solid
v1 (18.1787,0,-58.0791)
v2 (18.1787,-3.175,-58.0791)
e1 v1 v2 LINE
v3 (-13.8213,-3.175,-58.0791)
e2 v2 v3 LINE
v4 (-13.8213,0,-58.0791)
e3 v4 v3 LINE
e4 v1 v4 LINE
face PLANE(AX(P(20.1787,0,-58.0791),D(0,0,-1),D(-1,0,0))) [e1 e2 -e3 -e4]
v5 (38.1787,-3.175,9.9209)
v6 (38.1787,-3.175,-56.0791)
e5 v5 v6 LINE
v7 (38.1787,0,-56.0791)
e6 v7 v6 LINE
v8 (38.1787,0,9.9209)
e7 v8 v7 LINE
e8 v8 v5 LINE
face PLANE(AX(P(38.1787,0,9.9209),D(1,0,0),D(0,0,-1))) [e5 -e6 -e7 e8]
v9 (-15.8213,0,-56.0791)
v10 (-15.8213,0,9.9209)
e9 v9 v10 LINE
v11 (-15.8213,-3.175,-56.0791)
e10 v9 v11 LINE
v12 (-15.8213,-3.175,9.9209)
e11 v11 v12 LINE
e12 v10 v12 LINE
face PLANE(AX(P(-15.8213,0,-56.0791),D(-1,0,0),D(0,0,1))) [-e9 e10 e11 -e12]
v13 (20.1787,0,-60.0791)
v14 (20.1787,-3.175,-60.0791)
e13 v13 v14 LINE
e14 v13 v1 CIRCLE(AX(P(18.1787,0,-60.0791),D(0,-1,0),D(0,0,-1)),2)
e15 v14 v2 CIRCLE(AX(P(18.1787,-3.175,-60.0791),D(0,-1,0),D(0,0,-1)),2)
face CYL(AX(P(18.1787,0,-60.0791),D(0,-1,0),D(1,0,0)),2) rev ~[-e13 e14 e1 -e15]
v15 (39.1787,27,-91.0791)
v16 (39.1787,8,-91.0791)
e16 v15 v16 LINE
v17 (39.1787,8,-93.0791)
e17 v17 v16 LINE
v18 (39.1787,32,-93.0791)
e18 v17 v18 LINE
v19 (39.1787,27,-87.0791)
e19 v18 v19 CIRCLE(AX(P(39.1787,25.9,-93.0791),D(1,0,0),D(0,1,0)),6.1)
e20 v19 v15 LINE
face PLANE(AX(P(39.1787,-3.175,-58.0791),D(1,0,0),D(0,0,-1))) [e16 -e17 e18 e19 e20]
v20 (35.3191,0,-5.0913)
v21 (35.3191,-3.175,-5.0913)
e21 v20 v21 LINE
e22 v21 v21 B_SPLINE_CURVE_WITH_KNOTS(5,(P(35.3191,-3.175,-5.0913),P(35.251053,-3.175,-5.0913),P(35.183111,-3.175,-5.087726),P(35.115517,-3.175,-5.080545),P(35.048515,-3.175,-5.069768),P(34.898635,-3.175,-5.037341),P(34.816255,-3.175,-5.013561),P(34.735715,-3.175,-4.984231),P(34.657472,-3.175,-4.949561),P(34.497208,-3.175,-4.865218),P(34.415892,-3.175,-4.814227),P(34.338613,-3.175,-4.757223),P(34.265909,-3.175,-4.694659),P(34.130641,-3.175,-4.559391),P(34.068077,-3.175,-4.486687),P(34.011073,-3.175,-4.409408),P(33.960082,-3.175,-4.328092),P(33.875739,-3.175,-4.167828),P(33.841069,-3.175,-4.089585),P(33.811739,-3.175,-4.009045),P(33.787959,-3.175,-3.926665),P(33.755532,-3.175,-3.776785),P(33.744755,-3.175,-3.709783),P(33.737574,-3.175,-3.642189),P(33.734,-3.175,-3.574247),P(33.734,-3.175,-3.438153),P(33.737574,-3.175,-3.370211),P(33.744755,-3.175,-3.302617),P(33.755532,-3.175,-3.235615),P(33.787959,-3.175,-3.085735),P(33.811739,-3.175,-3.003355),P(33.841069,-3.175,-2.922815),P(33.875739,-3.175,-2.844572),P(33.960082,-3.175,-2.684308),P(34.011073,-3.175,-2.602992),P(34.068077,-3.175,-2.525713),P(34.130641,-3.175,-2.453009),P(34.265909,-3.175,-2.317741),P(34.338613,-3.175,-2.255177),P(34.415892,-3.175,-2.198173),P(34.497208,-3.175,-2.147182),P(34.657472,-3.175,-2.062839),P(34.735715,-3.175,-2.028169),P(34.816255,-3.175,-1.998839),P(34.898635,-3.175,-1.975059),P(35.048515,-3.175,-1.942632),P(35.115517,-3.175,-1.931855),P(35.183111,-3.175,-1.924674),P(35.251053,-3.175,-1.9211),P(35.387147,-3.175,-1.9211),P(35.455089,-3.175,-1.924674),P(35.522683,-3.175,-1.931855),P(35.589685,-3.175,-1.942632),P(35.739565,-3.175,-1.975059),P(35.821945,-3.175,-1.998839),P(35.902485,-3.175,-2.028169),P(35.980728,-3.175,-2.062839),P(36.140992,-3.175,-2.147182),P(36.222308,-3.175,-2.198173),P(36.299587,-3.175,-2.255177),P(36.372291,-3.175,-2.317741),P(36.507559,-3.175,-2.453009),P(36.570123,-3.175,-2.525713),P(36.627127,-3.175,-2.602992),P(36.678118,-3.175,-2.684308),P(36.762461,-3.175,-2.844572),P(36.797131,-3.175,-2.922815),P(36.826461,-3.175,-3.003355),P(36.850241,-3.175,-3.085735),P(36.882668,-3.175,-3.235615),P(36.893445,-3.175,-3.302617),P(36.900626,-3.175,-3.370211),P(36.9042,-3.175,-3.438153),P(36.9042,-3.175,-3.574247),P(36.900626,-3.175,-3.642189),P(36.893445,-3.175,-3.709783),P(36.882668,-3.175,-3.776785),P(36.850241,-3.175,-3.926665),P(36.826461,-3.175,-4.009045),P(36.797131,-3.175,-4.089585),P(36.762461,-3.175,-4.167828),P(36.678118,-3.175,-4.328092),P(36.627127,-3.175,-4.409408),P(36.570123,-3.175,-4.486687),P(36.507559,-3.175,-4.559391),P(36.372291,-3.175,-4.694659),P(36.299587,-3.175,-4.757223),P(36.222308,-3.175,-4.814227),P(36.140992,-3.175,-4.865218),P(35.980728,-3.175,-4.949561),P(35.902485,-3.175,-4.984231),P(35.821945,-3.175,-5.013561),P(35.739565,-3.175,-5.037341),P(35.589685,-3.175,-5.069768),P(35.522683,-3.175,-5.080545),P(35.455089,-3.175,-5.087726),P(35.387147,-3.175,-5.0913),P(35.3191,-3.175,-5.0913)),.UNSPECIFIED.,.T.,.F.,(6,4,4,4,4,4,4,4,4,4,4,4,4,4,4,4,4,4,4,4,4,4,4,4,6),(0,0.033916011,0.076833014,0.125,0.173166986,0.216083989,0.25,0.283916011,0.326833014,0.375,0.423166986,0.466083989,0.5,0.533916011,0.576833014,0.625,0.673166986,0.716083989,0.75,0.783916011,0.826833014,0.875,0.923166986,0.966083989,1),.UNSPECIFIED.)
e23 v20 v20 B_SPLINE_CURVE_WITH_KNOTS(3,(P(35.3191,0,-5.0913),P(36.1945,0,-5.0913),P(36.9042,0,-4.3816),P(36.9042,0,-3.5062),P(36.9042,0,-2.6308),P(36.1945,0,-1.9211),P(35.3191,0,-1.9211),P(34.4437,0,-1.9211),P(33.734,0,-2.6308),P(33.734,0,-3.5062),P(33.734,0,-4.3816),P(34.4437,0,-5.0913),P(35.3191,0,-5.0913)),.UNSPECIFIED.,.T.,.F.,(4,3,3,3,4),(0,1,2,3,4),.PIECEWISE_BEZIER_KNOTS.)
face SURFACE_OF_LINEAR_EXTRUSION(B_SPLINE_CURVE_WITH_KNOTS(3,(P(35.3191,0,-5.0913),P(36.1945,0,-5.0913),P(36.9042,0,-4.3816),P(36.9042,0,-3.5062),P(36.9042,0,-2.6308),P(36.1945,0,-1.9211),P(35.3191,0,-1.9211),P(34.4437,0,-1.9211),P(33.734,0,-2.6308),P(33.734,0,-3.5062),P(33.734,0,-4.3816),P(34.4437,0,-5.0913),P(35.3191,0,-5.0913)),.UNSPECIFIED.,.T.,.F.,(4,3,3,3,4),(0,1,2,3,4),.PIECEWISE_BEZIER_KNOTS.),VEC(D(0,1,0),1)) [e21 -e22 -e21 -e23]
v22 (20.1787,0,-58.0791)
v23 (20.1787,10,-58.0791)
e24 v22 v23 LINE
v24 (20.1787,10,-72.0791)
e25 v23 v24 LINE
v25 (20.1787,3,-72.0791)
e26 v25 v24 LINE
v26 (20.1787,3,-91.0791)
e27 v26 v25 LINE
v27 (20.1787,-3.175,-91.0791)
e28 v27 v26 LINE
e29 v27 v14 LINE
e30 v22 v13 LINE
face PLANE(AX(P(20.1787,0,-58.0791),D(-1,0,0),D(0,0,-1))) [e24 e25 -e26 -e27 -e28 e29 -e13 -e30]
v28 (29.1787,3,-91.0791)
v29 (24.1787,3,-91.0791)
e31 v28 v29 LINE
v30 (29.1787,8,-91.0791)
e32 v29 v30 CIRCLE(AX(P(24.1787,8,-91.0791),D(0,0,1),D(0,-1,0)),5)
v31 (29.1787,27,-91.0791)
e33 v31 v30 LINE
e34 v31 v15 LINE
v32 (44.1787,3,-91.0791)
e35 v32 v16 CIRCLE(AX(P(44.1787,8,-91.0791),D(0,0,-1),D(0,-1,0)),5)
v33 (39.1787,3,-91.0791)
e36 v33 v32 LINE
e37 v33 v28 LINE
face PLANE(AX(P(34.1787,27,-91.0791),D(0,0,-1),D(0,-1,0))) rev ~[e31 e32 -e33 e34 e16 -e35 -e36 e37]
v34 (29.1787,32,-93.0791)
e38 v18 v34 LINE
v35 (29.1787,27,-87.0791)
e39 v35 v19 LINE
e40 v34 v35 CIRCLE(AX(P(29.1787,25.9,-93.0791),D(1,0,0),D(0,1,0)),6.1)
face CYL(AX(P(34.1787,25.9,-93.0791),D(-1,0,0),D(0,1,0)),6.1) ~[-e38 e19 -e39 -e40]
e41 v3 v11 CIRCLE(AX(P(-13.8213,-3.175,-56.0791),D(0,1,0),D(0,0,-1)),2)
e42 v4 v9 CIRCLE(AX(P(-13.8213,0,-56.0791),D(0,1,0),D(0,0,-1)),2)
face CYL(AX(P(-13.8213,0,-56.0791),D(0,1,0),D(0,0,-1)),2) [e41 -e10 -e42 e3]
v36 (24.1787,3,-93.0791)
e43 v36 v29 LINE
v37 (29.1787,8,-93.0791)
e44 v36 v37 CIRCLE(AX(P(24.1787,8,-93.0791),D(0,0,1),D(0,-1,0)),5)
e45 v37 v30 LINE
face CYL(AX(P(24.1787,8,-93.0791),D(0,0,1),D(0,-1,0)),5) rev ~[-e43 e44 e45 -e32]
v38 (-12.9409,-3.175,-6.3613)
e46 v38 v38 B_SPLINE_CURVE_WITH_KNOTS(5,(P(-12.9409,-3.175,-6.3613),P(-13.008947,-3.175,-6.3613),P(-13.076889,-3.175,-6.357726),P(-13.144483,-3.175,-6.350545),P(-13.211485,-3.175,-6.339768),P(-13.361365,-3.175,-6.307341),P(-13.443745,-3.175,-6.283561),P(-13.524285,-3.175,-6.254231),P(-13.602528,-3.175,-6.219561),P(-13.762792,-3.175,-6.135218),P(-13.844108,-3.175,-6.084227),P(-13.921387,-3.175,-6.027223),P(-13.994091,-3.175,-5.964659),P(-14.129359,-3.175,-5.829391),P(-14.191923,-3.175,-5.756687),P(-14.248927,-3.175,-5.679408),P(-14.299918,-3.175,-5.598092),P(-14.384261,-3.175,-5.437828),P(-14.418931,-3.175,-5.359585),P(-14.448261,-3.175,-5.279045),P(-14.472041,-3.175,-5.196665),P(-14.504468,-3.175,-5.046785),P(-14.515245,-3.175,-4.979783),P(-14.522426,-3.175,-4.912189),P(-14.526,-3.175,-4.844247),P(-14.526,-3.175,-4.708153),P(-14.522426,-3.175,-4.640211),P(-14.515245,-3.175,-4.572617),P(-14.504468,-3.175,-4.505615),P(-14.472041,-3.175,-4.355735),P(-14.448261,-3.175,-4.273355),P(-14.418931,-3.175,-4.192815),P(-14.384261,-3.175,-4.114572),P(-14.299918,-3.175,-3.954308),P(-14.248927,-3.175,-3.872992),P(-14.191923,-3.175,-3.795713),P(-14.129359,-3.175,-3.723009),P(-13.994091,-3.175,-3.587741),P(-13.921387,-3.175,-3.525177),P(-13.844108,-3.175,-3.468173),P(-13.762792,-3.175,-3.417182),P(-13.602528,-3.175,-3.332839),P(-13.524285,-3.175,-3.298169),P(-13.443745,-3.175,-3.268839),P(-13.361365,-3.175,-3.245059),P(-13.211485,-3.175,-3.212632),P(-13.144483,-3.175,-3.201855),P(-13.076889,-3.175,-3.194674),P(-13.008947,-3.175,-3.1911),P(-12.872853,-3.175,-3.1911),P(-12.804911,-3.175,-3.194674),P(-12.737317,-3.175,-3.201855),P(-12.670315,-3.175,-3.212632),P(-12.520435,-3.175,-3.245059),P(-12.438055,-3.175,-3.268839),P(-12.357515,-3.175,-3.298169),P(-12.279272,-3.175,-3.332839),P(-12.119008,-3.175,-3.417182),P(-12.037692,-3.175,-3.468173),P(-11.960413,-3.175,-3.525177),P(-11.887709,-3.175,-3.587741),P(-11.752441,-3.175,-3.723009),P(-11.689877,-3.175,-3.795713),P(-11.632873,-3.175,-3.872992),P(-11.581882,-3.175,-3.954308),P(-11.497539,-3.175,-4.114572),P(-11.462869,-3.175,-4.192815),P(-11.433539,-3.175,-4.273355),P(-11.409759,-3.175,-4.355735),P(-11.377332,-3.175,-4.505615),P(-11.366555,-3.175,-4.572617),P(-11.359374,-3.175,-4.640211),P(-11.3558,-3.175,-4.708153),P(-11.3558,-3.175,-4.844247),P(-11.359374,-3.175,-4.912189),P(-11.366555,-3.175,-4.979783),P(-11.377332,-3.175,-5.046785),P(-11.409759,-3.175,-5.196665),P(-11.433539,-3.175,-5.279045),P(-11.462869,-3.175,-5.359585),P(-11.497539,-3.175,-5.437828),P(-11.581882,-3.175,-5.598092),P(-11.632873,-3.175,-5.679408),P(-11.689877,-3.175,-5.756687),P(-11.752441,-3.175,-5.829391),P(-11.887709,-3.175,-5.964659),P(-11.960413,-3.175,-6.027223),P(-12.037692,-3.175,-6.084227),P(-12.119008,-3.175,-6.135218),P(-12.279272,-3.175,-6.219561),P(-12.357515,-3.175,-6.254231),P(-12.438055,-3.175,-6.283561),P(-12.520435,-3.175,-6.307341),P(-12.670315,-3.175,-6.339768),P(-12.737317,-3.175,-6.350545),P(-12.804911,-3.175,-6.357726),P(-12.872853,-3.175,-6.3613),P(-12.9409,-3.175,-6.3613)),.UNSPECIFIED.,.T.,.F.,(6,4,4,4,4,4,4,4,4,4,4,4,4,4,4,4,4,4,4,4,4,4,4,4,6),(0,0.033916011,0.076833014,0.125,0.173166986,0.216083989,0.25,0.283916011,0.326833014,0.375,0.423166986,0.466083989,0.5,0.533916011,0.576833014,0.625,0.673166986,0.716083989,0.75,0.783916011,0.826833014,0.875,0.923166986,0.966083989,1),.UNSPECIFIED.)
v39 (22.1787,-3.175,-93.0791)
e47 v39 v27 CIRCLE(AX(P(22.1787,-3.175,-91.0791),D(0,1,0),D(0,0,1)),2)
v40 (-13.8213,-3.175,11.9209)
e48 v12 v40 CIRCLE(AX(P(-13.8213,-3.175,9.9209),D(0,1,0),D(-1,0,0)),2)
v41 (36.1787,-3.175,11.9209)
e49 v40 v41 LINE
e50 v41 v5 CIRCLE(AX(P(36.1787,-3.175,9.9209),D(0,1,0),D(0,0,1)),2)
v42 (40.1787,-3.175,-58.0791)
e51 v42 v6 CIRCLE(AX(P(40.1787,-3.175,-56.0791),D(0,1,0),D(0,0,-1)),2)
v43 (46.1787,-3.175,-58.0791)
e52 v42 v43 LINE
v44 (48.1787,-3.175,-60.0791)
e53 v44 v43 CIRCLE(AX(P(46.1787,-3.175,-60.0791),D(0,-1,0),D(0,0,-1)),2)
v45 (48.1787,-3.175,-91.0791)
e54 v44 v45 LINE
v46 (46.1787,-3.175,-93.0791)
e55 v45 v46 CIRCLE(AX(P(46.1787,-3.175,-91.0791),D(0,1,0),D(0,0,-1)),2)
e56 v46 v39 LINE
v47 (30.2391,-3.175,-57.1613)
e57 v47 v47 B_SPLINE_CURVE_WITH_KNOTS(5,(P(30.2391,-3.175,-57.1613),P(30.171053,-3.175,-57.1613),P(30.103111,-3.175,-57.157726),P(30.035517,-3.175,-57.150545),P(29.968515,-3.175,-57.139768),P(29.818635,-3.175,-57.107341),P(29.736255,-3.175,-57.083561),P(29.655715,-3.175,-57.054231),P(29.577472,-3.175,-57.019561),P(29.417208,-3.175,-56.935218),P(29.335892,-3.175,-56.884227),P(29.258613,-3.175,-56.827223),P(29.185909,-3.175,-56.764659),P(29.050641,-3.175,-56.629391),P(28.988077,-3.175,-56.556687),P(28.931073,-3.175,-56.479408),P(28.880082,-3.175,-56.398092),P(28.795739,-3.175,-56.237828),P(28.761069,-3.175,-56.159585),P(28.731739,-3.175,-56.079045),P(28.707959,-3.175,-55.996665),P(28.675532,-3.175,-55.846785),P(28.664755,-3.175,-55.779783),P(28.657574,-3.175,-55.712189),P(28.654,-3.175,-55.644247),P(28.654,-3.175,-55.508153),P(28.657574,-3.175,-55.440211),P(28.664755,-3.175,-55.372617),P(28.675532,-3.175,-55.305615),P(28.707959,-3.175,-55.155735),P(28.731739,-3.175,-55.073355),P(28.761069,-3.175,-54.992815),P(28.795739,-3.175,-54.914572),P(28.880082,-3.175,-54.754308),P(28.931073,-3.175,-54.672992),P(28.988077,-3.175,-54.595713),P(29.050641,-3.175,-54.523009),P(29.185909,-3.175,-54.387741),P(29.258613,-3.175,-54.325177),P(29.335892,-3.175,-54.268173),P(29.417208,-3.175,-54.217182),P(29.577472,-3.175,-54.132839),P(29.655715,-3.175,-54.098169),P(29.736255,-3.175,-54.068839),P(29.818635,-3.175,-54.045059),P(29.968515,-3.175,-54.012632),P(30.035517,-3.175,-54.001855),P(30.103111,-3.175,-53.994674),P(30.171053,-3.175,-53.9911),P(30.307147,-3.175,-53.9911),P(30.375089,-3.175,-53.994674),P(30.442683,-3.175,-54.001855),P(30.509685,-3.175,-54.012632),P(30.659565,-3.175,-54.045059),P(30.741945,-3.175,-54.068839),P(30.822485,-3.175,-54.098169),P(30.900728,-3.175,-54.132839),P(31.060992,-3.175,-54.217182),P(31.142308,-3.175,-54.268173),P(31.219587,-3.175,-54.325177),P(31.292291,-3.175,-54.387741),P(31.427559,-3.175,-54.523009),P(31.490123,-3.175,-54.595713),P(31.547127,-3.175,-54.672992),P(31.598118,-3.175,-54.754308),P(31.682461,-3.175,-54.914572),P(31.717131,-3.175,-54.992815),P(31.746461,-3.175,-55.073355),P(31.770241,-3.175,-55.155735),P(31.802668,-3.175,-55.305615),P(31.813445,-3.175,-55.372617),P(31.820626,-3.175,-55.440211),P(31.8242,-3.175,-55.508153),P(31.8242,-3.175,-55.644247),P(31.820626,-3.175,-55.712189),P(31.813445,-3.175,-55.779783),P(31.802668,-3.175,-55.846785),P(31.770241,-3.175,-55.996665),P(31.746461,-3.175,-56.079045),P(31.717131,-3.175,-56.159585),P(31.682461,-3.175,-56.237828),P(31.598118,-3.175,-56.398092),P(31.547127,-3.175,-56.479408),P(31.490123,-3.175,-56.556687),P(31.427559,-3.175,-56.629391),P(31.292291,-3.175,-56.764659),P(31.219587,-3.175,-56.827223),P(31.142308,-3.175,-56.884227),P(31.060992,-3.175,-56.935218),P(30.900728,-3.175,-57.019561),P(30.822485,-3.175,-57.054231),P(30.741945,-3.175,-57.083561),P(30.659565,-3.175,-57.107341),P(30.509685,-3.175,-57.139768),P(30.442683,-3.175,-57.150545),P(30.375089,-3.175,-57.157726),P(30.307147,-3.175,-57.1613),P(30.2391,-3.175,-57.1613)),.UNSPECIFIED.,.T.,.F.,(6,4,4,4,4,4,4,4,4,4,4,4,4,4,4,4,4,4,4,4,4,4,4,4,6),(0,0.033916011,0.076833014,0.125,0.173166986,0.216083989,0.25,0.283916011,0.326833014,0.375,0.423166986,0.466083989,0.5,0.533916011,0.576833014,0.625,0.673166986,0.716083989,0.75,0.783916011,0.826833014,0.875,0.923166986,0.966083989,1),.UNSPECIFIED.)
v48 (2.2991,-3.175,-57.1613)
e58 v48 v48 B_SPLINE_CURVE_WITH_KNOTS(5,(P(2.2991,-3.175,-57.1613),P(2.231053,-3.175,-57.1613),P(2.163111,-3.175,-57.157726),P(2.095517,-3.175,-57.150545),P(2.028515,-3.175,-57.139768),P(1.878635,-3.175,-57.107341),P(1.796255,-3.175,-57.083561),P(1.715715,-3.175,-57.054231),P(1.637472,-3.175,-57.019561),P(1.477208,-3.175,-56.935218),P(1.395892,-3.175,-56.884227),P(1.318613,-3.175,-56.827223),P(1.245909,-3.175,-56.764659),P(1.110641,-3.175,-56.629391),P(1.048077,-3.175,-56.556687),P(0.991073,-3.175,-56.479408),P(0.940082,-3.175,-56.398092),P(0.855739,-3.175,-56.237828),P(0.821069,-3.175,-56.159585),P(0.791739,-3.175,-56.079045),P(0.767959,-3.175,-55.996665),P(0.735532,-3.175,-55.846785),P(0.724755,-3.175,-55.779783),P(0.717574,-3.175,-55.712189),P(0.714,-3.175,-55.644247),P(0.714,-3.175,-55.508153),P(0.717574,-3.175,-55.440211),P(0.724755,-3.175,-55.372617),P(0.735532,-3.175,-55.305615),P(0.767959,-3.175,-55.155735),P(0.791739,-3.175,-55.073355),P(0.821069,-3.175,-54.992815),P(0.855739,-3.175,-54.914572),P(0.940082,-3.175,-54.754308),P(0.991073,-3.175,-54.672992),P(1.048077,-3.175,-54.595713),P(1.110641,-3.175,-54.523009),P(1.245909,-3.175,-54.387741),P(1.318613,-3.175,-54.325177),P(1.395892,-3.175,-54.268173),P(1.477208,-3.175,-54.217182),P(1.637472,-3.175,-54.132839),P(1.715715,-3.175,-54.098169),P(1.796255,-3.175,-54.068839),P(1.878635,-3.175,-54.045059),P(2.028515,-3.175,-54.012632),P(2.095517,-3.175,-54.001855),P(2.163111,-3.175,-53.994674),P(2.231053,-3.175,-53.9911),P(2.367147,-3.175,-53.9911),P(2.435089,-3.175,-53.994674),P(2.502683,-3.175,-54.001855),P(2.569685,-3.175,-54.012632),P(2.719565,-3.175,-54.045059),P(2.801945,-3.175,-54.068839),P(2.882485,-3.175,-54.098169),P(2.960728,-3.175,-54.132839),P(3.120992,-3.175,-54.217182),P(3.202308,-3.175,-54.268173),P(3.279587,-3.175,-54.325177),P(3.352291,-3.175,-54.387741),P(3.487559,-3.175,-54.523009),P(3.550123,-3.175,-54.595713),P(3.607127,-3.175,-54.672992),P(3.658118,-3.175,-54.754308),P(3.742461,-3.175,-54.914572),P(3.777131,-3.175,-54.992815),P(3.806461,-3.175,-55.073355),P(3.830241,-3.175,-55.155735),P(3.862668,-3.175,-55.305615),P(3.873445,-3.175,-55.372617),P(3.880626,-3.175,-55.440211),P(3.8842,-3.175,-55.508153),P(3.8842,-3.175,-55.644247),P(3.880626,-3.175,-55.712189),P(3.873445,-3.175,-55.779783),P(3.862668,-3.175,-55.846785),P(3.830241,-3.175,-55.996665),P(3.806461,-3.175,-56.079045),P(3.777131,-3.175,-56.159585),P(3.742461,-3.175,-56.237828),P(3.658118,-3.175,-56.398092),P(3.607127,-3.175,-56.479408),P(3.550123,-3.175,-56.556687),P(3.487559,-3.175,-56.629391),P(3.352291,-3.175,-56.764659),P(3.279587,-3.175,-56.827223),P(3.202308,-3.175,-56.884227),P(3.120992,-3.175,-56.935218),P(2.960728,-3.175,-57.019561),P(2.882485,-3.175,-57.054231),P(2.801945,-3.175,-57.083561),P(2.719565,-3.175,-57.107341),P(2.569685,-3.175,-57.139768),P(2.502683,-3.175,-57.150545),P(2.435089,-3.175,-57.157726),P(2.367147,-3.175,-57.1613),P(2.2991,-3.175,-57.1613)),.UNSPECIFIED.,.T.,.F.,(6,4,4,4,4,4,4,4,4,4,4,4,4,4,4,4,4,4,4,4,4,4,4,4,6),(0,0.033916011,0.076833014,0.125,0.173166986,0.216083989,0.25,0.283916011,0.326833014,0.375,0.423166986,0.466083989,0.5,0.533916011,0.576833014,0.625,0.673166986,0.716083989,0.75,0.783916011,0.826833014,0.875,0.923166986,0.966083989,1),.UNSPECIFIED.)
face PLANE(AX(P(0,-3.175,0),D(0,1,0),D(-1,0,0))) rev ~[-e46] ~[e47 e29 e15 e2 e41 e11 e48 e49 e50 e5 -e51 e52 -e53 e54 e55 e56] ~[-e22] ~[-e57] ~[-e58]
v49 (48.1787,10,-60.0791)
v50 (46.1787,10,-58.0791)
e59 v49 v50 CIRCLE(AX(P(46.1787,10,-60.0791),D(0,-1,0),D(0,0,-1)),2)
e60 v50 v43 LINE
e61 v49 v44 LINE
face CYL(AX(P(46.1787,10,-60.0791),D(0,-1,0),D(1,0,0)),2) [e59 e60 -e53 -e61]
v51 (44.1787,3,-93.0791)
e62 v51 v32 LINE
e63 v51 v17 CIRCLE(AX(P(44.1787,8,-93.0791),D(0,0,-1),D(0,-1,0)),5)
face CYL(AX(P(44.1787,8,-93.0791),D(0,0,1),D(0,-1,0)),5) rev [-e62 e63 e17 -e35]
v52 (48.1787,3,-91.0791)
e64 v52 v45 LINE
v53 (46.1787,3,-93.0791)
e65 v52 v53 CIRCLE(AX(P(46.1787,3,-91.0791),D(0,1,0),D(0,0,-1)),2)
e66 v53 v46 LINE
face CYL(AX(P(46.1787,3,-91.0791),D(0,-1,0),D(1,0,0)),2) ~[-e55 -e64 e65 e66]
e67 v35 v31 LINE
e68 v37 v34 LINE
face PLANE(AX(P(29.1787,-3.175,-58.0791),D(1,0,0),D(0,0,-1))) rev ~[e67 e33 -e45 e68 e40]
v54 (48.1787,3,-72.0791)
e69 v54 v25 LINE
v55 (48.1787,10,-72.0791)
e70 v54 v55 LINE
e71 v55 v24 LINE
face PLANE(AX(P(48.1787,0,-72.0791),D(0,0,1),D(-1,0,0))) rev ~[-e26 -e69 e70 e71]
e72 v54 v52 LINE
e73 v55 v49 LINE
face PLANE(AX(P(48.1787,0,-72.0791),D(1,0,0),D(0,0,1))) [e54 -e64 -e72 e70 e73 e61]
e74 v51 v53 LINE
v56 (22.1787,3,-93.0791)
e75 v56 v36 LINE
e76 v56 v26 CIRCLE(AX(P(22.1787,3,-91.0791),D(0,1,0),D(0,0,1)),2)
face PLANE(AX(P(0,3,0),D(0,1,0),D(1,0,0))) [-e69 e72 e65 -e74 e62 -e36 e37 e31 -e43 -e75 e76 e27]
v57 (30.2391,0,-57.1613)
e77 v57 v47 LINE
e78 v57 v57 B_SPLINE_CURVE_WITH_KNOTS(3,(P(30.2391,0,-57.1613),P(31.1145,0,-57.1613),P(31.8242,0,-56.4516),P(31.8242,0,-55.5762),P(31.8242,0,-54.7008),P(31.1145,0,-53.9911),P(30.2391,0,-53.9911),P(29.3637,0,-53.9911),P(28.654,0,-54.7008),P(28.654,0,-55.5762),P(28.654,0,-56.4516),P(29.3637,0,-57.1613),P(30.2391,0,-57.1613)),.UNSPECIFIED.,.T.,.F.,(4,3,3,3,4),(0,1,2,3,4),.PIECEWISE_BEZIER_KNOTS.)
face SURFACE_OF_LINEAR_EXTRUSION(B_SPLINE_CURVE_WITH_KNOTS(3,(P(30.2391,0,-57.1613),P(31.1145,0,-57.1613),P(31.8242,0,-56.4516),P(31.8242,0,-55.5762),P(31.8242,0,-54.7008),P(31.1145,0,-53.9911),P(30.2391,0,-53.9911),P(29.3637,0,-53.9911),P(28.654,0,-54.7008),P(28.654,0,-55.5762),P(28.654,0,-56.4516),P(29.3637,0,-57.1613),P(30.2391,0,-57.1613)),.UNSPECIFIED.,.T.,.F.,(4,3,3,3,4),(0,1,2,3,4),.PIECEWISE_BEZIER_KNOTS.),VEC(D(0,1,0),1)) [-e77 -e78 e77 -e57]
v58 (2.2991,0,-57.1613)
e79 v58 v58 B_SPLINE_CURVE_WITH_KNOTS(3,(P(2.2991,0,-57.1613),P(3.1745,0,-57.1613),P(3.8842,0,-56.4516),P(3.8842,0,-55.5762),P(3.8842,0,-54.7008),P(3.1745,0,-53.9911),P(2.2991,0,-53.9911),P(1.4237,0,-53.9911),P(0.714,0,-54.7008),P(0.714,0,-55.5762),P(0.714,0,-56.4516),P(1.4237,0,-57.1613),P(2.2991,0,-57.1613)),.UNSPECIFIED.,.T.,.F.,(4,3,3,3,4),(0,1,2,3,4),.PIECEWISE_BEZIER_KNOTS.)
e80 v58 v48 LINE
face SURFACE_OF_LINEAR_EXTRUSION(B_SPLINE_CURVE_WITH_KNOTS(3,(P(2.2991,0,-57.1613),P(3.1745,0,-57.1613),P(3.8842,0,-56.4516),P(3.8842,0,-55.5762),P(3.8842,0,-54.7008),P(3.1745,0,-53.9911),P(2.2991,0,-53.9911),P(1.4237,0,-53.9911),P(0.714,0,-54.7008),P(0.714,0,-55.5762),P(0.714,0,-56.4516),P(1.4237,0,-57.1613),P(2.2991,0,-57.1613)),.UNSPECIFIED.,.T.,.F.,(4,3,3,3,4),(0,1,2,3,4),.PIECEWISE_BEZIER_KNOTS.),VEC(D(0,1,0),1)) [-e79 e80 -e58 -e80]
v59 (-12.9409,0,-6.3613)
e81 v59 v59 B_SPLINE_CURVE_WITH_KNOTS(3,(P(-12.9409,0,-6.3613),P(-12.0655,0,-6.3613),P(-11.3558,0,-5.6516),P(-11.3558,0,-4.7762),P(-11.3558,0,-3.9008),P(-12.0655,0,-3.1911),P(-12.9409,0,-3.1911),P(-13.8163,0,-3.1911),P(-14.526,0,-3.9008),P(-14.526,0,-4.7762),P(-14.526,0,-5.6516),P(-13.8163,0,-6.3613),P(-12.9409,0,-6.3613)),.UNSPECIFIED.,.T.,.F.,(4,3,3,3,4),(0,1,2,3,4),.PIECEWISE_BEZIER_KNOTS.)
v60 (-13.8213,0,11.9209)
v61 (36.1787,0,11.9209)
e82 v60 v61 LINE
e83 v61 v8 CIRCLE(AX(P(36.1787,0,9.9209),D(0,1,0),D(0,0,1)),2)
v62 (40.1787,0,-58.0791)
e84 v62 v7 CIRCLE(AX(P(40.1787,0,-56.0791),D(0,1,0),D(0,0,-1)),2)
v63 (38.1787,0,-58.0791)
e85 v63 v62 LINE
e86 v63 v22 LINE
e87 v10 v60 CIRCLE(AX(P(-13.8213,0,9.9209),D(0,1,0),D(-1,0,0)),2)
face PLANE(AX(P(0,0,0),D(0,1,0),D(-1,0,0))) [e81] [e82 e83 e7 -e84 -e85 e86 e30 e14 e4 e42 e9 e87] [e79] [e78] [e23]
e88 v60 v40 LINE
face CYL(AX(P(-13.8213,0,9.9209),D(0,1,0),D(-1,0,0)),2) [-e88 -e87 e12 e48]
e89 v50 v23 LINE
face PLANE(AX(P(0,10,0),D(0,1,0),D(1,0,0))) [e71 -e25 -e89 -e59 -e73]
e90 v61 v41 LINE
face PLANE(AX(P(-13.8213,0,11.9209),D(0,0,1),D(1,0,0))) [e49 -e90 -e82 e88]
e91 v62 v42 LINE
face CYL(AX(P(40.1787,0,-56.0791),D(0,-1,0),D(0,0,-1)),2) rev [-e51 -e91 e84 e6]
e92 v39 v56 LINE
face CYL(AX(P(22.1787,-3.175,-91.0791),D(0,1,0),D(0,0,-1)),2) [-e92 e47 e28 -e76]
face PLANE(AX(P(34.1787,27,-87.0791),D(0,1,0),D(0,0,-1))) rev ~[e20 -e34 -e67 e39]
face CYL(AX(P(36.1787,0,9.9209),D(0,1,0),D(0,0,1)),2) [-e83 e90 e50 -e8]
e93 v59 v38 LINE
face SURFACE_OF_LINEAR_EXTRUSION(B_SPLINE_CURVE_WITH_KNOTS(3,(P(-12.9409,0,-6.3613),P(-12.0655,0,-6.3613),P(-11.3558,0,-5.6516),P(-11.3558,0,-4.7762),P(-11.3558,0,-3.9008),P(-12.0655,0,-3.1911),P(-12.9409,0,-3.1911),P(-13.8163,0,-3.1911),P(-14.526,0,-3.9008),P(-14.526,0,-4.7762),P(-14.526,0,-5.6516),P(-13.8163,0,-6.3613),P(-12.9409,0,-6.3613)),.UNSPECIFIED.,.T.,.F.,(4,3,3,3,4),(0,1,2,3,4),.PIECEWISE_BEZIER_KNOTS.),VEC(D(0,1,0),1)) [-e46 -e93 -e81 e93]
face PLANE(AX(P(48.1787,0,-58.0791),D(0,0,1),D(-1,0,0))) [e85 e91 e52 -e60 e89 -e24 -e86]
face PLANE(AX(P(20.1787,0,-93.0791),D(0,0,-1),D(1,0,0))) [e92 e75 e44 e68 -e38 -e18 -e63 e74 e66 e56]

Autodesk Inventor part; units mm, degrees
ref_plane "YZ Plane" through (0, 0, 0) normal (1, 0, 0) x (0, 1, 0)
ref_plane "XZ Plane" through (0, 0, 0) normal (0, 1, 0) x (-1, 0, 0)
ref_plane "XY Plane" through (0, 0, 0) normal (0, 0, 1) x (1, 0, 0)
sketch "Sketch1" plane through (0, 0, 0) normal (0, 1, 0) x (-1, 0, 0)
  line L0 (13.8213, 11.9209) -> (-36.1787, 11.9209)
  line L1 (-38.1787, 9.9209) -> (-38.1787, -58.0791)
  line L2 (-38.1787, -58.0791) -> (13.8213, -58.0791)
  line L3 (15.8213, -56.0791) -> (15.8213, 9.9209)
  line L4 (-20.1787, -58.0791) -> (-48.1787, -58.0791)
  line L5 (-48.1787, -58.0791) -> (-48.1787, -93.0791)
  line L6 (-48.1787, -93.0791) -> (-20.1787, -93.0791)
  line L7 (-20.1787, -93.0791) -> (-20.1787, -58.0791)
  arc A0 (15.8213, 9.9209) -> (13.8213, 11.9209) centre (13.8213, 9.9209) ccw
  arc A1 (13.8213, -58.0791) -> (15.8213, -56.0791) centre (13.8213, -56.0791) ccw
  arc A2 (-36.1787, 11.9209) -> (-38.1787, 9.9209) centre (-36.1787, 9.9209) ccw
  point P0 (0, 0)
  point P1 (15.8213, 11.9209)
  point P2 (-38.1787, 11.9209)
  point P3 (15.8213, -58.0791)
  dimension "d0" = 54
  dimension "d1" = 70
  dimension "d2" = 28
  dimension "d3" = 10
  dimension "d4" = 35
  dimension "d20" = 2
extrude "Extrusion1" add sketch "Sketch1" against normal blind 3.175
sketch "Sketch2" plane through (0, 0, 0) normal (0, 1, 0) x (1, 0, 0)
  line L0 (20.1787, 93.0791) -> (20.1787, 58.0791) projected
  line L1 (48.1787, 58.0791) -> (48.1787, 93.0791) projected
  line L2 (20.1787, 93.0791) -> (48.1787, 93.0791)
  line L3 (48.1787, 93.0791) -> (48.1787, 72.0791)
  line L4 (48.1787, 72.0791) -> (20.1787, 72.0791)
  line L5 (20.1787, 72.0791) -> (20.1787, 93.0791)
  line L6 (38.1787, 58.0791) -> (48.1787, 58.0791) projected
  point P0 (0, 0)
  dimension "d7" = 14
extrude "Extrusion2" add sketch "Sketch2" along normal blind 3
sketch "Sketch3" plane through (0, 0, 0) normal (0, 1, 0) x (1, 0, 0)
  line L0 (48.1787, 72.0791) -> (20.1787, 72.0791) projected
  line L1 (48.1787, 93.0791) -> (48.1787, 58.0791) projected
  line L2 (20.1787, 72.0791) -> (48.1787, 72.0791)
  line L3 (48.1787, 72.0791) -> (48.1787, 58.0791)
  line L4 (48.1787, 58.0791) -> (20.1787, 58.0791)
  line L5 (20.1787, 58.0791) -> (20.1787, 72.0791)
  point P0 (0, 0)
extrude "Extrusion3" add sketch "Sketch3" along normal blind 10
ref_plane "Work Plane1" through (34.1787, -3.175, -58.0791) normal (1, 0, 0) x (0, 0, -1)
sketch "Sketch4" plane through (34.1787, -3.175, -58.0791) normal (1, 0, 0) x (0, 0, -1)
  line L0 (29, 30.175) -> (33, 30.175)
  line L1 (33, 30.175) -> (33, 6.175)
  line L2 (35, 6.175) -> (14, 6.175) projected
  line L3 (35, 6.175) -> (35, 35.175)
  arc A0 (35, 35.175) -> (29, 30.175) centre (35, 29.075) ccw
  point P0 (-58.0791, 3.175)
  dimension "d12" = 2
  dimension "d13" = 29
  dimension "d14" = 24
  dimension "d15" = 4
extrude "Extrusion4" add sketch "Sketch4" along normal mid plane 10
sketch "Sketch5" plane through (0, 0, 0) normal (0, 1, 0) x (1, 0, 0)
  line L0 (37.8591, -10.4638) -> (37.8591, 55.5762)
  line L1 (37.8591, 55.5762) -> (35.3191, 55.5762)
  line L2 (35.3191, 55.5762) -> (32.7791, 58.1162)
  line L3 (32.7791, 58.1162) -> (-0.2409, 58.1162)
  line L4 (-0.2409, 58.1162) -> (-2.7809, 55.5762)
  line L5 (-2.7809, 55.5762) -> (-14.2109, 55.5762)
  line L6 (-14.2109, 55.5762) -> (-15.4809, 54.3062)
  line L7 (-15.4809, 54.3062) -> (-15.4809, -10.4638)
  line L8 (-15.4809, -10.4638) -> (37.8591, -10.4638)
  spline S0 degree 3 poles (30.2391, 57.1613) (31.1145, 57.1613) (31.8242, 56.4516) (31.8242, 55.5762) (31.8242, 54.7008) (31.1145, 53.9911) (30.2391, 53.9911) (29.3637, 53.9911) (28.654, 54.7008) (28.654, 55.5762) (28.654, 56.4516) (29.3637, 57.1613) (30.2391, 57.1613) knots 0 0 0 0 1 1 1 2 2 2 3 3 3 4 4 4 4
  line L9 (30.2391, 57.1613) -> (31.1145, 57.1613) construction
  line L10 (31.1145, 57.1613) -> (31.8242, 56.4516) construction
  line L11 (31.8242, 56.4516) -> (31.8242, 55.5762) construction
  line L12 (31.8242, 55.5762) -> (31.8242, 54.7008) construction
  line L13 (31.8242, 54.7008) -> (31.1145, 53.9911) construction
  line L14 (31.1145, 53.9911) -> (30.2391, 53.9911) construction
  line L15 (30.2391, 53.9911) -> (29.3637, 53.9911) construction
  line L16 (29.3637, 53.9911) -> (28.654, 54.7008) construction
  line L17 (28.654, 54.7008) -> (28.654, 55.5762) construction
  line L18 (28.654, 55.5762) -> (28.654, 56.4516) construction
  line L19 (28.654, 56.4516) -> (29.3637, 57.1613) construction
  line L20 (29.3637, 57.1613) -> (30.2391, 57.1613) construction
  spline S1 degree 3 poles (2.2991, 57.1613) (3.1745, 57.1613) (3.8842, 56.4516) (3.8842, 55.5762) (3.8842, 54.7008) (3.1745, 53.9911) (2.2991, 53.9911) (1.4237, 53.9911) (0.714, 54.7008) (0.714, 55.5762) (0.714, 56.4516) (1.4237, 57.1613) (2.2991, 57.1613) knots 0 0 0 0 1 1 1 2 2 2 3 3 3 4 4 4 4
  line L21 (2.2991, 57.1613) -> (3.1745, 57.1613) construction
  line L22 (3.1745, 57.1613) -> (3.8842, 56.4516) construction
  line L23 (3.8842, 56.4516) -> (3.8842, 55.5762) construction
  line L24 (3.8842, 55.5762) -> (3.8842, 54.7008) construction
  line L25 (3.8842, 54.7008) -> (3.1745, 53.9911) construction
  line L26 (3.1745, 53.9911) -> (2.2991, 53.9911) construction
  line L27 (2.2991, 53.9911) -> (1.4237, 53.9911) construction
  line L28 (1.4237, 53.9911) -> (0.714, 54.7008) construction
  line L29 (0.714, 54.7008) -> (0.714, 55.5762) construction
  line L30 (0.714, 55.5762) -> (0.714, 56.4516) construction
  line L31 (0.714, 56.4516) -> (1.4237, 57.1613) construction
  line L32 (1.4237, 57.1613) -> (2.2991, 57.1613) construction
  spline S2 degree 3 poles (-12.9409, 6.3613) (-12.0655, 6.3613) (-11.3558, 5.6516) (-11.3558, 4.7762) (-11.3558, 3.9008) (-12.0655, 3.1911) (-12.9409, 3.1911) (-13.8163, 3.1911) (-14.526, 3.9008) (-14.526, 4.7762) (-14.526, 5.6516) (-13.8163, 6.3613) (-12.9409, 6.3613) knots 0 0 0 0 1 1 1 2 2 2 3 3 3 4 4 4 4
  line L33 (-12.9409, 6.3613) -> (-12.0655, 6.3613) construction
  line L34 (-12.0655, 6.3613) -> (-11.3558, 5.6516) construction
  line L35 (-11.3558, 5.6516) -> (-11.3558, 4.7762) construction
  line L36 (-11.3558, 4.7762) -> (-11.3558, 3.9008) construction
  line L37 (-11.3558, 3.9008) -> (-12.0655, 3.1911) construction
  line L38 (-12.0655, 3.1911) -> (-12.9409, 3.1911) construction
  line L39 (-12.9409, 3.1911) -> (-13.8163, 3.1911) construction
  line L40 (-13.8163, 3.1911) -> (-14.526, 3.9008) construction
  line L41 (-14.526, 3.9008) -> (-14.526, 4.7762) construction
  line L42 (-14.526, 4.7762) -> (-14.526, 5.6516) construction
  line L43 (-14.526, 5.6516) -> (-13.8163, 6.3613) construction
  line L44 (-13.8163, 6.3613) -> (-12.9409, 6.3613) construction
  spline S3 degree 3 poles (35.3191, 5.0913) (36.1945, 5.0913) (36.9042, 4.3816) (36.9042, 3.5062) (36.9042, 2.6308) (36.1945, 1.9211) (35.3191, 1.9211) (34.4437, 1.9211) (33.734, 2.6308) (33.734, 3.5062) (33.734, 4.3816) (34.4437, 5.0913) (35.3191, 5.0913) knots 0 0 0 0 1 1 1 2 2 2 3 3 3 4 4 4 4
  line L45 (35.3191, 5.0913) -> (36.1945, 5.0913) construction
  line L46 (36.1945, 5.0913) -> (36.9042, 4.3816) construction
  line L47 (36.9042, 4.3816) -> (36.9042, 3.5062) construction
  line L48 (36.9042, 3.5062) -> (36.9042, 2.6308) construction
  line L49 (36.9042, 2.6308) -> (36.1945, 1.9211) construction
  line L50 (36.1945, 1.9211) -> (35.3191, 1.9211) construction
  line L51 (35.3191, 1.9211) -> (34.4437, 1.9211) construction
  line L52 (34.4437, 1.9211) -> (33.734, 2.6308) construction
  line L53 (33.734, 2.6308) -> (33.734, 3.5062) construction
  line L54 (33.734, 3.5062) -> (33.734, 4.3816) construction
  line L55 (33.734, 4.3816) -> (34.4437, 5.0913) construction
  line L56 (34.4437, 5.0913) -> (35.3191, 5.0913) construction
  point P0 (0, 0)
extrude "Extrusion5" cut sketch "Sketch5" against normal blind 10 contours S0 | S1 | S2 | S3
fillet "Fillet1" radius 2 5 edges at (48.1787, -0.0875, -93.0791) (20.1787, -0.0875, -93.0791) (48.1787, 3.4125, -58.0791) (38.1787, -1.5875, -58.0791) (20.1787, -1.5875, -58.0791)
fillet "Fillet2" radius 5 2 edges at (39.1787, 3, -92.0791) (29.1787, 3, -92.0791)
properties part number "arduinomount"
